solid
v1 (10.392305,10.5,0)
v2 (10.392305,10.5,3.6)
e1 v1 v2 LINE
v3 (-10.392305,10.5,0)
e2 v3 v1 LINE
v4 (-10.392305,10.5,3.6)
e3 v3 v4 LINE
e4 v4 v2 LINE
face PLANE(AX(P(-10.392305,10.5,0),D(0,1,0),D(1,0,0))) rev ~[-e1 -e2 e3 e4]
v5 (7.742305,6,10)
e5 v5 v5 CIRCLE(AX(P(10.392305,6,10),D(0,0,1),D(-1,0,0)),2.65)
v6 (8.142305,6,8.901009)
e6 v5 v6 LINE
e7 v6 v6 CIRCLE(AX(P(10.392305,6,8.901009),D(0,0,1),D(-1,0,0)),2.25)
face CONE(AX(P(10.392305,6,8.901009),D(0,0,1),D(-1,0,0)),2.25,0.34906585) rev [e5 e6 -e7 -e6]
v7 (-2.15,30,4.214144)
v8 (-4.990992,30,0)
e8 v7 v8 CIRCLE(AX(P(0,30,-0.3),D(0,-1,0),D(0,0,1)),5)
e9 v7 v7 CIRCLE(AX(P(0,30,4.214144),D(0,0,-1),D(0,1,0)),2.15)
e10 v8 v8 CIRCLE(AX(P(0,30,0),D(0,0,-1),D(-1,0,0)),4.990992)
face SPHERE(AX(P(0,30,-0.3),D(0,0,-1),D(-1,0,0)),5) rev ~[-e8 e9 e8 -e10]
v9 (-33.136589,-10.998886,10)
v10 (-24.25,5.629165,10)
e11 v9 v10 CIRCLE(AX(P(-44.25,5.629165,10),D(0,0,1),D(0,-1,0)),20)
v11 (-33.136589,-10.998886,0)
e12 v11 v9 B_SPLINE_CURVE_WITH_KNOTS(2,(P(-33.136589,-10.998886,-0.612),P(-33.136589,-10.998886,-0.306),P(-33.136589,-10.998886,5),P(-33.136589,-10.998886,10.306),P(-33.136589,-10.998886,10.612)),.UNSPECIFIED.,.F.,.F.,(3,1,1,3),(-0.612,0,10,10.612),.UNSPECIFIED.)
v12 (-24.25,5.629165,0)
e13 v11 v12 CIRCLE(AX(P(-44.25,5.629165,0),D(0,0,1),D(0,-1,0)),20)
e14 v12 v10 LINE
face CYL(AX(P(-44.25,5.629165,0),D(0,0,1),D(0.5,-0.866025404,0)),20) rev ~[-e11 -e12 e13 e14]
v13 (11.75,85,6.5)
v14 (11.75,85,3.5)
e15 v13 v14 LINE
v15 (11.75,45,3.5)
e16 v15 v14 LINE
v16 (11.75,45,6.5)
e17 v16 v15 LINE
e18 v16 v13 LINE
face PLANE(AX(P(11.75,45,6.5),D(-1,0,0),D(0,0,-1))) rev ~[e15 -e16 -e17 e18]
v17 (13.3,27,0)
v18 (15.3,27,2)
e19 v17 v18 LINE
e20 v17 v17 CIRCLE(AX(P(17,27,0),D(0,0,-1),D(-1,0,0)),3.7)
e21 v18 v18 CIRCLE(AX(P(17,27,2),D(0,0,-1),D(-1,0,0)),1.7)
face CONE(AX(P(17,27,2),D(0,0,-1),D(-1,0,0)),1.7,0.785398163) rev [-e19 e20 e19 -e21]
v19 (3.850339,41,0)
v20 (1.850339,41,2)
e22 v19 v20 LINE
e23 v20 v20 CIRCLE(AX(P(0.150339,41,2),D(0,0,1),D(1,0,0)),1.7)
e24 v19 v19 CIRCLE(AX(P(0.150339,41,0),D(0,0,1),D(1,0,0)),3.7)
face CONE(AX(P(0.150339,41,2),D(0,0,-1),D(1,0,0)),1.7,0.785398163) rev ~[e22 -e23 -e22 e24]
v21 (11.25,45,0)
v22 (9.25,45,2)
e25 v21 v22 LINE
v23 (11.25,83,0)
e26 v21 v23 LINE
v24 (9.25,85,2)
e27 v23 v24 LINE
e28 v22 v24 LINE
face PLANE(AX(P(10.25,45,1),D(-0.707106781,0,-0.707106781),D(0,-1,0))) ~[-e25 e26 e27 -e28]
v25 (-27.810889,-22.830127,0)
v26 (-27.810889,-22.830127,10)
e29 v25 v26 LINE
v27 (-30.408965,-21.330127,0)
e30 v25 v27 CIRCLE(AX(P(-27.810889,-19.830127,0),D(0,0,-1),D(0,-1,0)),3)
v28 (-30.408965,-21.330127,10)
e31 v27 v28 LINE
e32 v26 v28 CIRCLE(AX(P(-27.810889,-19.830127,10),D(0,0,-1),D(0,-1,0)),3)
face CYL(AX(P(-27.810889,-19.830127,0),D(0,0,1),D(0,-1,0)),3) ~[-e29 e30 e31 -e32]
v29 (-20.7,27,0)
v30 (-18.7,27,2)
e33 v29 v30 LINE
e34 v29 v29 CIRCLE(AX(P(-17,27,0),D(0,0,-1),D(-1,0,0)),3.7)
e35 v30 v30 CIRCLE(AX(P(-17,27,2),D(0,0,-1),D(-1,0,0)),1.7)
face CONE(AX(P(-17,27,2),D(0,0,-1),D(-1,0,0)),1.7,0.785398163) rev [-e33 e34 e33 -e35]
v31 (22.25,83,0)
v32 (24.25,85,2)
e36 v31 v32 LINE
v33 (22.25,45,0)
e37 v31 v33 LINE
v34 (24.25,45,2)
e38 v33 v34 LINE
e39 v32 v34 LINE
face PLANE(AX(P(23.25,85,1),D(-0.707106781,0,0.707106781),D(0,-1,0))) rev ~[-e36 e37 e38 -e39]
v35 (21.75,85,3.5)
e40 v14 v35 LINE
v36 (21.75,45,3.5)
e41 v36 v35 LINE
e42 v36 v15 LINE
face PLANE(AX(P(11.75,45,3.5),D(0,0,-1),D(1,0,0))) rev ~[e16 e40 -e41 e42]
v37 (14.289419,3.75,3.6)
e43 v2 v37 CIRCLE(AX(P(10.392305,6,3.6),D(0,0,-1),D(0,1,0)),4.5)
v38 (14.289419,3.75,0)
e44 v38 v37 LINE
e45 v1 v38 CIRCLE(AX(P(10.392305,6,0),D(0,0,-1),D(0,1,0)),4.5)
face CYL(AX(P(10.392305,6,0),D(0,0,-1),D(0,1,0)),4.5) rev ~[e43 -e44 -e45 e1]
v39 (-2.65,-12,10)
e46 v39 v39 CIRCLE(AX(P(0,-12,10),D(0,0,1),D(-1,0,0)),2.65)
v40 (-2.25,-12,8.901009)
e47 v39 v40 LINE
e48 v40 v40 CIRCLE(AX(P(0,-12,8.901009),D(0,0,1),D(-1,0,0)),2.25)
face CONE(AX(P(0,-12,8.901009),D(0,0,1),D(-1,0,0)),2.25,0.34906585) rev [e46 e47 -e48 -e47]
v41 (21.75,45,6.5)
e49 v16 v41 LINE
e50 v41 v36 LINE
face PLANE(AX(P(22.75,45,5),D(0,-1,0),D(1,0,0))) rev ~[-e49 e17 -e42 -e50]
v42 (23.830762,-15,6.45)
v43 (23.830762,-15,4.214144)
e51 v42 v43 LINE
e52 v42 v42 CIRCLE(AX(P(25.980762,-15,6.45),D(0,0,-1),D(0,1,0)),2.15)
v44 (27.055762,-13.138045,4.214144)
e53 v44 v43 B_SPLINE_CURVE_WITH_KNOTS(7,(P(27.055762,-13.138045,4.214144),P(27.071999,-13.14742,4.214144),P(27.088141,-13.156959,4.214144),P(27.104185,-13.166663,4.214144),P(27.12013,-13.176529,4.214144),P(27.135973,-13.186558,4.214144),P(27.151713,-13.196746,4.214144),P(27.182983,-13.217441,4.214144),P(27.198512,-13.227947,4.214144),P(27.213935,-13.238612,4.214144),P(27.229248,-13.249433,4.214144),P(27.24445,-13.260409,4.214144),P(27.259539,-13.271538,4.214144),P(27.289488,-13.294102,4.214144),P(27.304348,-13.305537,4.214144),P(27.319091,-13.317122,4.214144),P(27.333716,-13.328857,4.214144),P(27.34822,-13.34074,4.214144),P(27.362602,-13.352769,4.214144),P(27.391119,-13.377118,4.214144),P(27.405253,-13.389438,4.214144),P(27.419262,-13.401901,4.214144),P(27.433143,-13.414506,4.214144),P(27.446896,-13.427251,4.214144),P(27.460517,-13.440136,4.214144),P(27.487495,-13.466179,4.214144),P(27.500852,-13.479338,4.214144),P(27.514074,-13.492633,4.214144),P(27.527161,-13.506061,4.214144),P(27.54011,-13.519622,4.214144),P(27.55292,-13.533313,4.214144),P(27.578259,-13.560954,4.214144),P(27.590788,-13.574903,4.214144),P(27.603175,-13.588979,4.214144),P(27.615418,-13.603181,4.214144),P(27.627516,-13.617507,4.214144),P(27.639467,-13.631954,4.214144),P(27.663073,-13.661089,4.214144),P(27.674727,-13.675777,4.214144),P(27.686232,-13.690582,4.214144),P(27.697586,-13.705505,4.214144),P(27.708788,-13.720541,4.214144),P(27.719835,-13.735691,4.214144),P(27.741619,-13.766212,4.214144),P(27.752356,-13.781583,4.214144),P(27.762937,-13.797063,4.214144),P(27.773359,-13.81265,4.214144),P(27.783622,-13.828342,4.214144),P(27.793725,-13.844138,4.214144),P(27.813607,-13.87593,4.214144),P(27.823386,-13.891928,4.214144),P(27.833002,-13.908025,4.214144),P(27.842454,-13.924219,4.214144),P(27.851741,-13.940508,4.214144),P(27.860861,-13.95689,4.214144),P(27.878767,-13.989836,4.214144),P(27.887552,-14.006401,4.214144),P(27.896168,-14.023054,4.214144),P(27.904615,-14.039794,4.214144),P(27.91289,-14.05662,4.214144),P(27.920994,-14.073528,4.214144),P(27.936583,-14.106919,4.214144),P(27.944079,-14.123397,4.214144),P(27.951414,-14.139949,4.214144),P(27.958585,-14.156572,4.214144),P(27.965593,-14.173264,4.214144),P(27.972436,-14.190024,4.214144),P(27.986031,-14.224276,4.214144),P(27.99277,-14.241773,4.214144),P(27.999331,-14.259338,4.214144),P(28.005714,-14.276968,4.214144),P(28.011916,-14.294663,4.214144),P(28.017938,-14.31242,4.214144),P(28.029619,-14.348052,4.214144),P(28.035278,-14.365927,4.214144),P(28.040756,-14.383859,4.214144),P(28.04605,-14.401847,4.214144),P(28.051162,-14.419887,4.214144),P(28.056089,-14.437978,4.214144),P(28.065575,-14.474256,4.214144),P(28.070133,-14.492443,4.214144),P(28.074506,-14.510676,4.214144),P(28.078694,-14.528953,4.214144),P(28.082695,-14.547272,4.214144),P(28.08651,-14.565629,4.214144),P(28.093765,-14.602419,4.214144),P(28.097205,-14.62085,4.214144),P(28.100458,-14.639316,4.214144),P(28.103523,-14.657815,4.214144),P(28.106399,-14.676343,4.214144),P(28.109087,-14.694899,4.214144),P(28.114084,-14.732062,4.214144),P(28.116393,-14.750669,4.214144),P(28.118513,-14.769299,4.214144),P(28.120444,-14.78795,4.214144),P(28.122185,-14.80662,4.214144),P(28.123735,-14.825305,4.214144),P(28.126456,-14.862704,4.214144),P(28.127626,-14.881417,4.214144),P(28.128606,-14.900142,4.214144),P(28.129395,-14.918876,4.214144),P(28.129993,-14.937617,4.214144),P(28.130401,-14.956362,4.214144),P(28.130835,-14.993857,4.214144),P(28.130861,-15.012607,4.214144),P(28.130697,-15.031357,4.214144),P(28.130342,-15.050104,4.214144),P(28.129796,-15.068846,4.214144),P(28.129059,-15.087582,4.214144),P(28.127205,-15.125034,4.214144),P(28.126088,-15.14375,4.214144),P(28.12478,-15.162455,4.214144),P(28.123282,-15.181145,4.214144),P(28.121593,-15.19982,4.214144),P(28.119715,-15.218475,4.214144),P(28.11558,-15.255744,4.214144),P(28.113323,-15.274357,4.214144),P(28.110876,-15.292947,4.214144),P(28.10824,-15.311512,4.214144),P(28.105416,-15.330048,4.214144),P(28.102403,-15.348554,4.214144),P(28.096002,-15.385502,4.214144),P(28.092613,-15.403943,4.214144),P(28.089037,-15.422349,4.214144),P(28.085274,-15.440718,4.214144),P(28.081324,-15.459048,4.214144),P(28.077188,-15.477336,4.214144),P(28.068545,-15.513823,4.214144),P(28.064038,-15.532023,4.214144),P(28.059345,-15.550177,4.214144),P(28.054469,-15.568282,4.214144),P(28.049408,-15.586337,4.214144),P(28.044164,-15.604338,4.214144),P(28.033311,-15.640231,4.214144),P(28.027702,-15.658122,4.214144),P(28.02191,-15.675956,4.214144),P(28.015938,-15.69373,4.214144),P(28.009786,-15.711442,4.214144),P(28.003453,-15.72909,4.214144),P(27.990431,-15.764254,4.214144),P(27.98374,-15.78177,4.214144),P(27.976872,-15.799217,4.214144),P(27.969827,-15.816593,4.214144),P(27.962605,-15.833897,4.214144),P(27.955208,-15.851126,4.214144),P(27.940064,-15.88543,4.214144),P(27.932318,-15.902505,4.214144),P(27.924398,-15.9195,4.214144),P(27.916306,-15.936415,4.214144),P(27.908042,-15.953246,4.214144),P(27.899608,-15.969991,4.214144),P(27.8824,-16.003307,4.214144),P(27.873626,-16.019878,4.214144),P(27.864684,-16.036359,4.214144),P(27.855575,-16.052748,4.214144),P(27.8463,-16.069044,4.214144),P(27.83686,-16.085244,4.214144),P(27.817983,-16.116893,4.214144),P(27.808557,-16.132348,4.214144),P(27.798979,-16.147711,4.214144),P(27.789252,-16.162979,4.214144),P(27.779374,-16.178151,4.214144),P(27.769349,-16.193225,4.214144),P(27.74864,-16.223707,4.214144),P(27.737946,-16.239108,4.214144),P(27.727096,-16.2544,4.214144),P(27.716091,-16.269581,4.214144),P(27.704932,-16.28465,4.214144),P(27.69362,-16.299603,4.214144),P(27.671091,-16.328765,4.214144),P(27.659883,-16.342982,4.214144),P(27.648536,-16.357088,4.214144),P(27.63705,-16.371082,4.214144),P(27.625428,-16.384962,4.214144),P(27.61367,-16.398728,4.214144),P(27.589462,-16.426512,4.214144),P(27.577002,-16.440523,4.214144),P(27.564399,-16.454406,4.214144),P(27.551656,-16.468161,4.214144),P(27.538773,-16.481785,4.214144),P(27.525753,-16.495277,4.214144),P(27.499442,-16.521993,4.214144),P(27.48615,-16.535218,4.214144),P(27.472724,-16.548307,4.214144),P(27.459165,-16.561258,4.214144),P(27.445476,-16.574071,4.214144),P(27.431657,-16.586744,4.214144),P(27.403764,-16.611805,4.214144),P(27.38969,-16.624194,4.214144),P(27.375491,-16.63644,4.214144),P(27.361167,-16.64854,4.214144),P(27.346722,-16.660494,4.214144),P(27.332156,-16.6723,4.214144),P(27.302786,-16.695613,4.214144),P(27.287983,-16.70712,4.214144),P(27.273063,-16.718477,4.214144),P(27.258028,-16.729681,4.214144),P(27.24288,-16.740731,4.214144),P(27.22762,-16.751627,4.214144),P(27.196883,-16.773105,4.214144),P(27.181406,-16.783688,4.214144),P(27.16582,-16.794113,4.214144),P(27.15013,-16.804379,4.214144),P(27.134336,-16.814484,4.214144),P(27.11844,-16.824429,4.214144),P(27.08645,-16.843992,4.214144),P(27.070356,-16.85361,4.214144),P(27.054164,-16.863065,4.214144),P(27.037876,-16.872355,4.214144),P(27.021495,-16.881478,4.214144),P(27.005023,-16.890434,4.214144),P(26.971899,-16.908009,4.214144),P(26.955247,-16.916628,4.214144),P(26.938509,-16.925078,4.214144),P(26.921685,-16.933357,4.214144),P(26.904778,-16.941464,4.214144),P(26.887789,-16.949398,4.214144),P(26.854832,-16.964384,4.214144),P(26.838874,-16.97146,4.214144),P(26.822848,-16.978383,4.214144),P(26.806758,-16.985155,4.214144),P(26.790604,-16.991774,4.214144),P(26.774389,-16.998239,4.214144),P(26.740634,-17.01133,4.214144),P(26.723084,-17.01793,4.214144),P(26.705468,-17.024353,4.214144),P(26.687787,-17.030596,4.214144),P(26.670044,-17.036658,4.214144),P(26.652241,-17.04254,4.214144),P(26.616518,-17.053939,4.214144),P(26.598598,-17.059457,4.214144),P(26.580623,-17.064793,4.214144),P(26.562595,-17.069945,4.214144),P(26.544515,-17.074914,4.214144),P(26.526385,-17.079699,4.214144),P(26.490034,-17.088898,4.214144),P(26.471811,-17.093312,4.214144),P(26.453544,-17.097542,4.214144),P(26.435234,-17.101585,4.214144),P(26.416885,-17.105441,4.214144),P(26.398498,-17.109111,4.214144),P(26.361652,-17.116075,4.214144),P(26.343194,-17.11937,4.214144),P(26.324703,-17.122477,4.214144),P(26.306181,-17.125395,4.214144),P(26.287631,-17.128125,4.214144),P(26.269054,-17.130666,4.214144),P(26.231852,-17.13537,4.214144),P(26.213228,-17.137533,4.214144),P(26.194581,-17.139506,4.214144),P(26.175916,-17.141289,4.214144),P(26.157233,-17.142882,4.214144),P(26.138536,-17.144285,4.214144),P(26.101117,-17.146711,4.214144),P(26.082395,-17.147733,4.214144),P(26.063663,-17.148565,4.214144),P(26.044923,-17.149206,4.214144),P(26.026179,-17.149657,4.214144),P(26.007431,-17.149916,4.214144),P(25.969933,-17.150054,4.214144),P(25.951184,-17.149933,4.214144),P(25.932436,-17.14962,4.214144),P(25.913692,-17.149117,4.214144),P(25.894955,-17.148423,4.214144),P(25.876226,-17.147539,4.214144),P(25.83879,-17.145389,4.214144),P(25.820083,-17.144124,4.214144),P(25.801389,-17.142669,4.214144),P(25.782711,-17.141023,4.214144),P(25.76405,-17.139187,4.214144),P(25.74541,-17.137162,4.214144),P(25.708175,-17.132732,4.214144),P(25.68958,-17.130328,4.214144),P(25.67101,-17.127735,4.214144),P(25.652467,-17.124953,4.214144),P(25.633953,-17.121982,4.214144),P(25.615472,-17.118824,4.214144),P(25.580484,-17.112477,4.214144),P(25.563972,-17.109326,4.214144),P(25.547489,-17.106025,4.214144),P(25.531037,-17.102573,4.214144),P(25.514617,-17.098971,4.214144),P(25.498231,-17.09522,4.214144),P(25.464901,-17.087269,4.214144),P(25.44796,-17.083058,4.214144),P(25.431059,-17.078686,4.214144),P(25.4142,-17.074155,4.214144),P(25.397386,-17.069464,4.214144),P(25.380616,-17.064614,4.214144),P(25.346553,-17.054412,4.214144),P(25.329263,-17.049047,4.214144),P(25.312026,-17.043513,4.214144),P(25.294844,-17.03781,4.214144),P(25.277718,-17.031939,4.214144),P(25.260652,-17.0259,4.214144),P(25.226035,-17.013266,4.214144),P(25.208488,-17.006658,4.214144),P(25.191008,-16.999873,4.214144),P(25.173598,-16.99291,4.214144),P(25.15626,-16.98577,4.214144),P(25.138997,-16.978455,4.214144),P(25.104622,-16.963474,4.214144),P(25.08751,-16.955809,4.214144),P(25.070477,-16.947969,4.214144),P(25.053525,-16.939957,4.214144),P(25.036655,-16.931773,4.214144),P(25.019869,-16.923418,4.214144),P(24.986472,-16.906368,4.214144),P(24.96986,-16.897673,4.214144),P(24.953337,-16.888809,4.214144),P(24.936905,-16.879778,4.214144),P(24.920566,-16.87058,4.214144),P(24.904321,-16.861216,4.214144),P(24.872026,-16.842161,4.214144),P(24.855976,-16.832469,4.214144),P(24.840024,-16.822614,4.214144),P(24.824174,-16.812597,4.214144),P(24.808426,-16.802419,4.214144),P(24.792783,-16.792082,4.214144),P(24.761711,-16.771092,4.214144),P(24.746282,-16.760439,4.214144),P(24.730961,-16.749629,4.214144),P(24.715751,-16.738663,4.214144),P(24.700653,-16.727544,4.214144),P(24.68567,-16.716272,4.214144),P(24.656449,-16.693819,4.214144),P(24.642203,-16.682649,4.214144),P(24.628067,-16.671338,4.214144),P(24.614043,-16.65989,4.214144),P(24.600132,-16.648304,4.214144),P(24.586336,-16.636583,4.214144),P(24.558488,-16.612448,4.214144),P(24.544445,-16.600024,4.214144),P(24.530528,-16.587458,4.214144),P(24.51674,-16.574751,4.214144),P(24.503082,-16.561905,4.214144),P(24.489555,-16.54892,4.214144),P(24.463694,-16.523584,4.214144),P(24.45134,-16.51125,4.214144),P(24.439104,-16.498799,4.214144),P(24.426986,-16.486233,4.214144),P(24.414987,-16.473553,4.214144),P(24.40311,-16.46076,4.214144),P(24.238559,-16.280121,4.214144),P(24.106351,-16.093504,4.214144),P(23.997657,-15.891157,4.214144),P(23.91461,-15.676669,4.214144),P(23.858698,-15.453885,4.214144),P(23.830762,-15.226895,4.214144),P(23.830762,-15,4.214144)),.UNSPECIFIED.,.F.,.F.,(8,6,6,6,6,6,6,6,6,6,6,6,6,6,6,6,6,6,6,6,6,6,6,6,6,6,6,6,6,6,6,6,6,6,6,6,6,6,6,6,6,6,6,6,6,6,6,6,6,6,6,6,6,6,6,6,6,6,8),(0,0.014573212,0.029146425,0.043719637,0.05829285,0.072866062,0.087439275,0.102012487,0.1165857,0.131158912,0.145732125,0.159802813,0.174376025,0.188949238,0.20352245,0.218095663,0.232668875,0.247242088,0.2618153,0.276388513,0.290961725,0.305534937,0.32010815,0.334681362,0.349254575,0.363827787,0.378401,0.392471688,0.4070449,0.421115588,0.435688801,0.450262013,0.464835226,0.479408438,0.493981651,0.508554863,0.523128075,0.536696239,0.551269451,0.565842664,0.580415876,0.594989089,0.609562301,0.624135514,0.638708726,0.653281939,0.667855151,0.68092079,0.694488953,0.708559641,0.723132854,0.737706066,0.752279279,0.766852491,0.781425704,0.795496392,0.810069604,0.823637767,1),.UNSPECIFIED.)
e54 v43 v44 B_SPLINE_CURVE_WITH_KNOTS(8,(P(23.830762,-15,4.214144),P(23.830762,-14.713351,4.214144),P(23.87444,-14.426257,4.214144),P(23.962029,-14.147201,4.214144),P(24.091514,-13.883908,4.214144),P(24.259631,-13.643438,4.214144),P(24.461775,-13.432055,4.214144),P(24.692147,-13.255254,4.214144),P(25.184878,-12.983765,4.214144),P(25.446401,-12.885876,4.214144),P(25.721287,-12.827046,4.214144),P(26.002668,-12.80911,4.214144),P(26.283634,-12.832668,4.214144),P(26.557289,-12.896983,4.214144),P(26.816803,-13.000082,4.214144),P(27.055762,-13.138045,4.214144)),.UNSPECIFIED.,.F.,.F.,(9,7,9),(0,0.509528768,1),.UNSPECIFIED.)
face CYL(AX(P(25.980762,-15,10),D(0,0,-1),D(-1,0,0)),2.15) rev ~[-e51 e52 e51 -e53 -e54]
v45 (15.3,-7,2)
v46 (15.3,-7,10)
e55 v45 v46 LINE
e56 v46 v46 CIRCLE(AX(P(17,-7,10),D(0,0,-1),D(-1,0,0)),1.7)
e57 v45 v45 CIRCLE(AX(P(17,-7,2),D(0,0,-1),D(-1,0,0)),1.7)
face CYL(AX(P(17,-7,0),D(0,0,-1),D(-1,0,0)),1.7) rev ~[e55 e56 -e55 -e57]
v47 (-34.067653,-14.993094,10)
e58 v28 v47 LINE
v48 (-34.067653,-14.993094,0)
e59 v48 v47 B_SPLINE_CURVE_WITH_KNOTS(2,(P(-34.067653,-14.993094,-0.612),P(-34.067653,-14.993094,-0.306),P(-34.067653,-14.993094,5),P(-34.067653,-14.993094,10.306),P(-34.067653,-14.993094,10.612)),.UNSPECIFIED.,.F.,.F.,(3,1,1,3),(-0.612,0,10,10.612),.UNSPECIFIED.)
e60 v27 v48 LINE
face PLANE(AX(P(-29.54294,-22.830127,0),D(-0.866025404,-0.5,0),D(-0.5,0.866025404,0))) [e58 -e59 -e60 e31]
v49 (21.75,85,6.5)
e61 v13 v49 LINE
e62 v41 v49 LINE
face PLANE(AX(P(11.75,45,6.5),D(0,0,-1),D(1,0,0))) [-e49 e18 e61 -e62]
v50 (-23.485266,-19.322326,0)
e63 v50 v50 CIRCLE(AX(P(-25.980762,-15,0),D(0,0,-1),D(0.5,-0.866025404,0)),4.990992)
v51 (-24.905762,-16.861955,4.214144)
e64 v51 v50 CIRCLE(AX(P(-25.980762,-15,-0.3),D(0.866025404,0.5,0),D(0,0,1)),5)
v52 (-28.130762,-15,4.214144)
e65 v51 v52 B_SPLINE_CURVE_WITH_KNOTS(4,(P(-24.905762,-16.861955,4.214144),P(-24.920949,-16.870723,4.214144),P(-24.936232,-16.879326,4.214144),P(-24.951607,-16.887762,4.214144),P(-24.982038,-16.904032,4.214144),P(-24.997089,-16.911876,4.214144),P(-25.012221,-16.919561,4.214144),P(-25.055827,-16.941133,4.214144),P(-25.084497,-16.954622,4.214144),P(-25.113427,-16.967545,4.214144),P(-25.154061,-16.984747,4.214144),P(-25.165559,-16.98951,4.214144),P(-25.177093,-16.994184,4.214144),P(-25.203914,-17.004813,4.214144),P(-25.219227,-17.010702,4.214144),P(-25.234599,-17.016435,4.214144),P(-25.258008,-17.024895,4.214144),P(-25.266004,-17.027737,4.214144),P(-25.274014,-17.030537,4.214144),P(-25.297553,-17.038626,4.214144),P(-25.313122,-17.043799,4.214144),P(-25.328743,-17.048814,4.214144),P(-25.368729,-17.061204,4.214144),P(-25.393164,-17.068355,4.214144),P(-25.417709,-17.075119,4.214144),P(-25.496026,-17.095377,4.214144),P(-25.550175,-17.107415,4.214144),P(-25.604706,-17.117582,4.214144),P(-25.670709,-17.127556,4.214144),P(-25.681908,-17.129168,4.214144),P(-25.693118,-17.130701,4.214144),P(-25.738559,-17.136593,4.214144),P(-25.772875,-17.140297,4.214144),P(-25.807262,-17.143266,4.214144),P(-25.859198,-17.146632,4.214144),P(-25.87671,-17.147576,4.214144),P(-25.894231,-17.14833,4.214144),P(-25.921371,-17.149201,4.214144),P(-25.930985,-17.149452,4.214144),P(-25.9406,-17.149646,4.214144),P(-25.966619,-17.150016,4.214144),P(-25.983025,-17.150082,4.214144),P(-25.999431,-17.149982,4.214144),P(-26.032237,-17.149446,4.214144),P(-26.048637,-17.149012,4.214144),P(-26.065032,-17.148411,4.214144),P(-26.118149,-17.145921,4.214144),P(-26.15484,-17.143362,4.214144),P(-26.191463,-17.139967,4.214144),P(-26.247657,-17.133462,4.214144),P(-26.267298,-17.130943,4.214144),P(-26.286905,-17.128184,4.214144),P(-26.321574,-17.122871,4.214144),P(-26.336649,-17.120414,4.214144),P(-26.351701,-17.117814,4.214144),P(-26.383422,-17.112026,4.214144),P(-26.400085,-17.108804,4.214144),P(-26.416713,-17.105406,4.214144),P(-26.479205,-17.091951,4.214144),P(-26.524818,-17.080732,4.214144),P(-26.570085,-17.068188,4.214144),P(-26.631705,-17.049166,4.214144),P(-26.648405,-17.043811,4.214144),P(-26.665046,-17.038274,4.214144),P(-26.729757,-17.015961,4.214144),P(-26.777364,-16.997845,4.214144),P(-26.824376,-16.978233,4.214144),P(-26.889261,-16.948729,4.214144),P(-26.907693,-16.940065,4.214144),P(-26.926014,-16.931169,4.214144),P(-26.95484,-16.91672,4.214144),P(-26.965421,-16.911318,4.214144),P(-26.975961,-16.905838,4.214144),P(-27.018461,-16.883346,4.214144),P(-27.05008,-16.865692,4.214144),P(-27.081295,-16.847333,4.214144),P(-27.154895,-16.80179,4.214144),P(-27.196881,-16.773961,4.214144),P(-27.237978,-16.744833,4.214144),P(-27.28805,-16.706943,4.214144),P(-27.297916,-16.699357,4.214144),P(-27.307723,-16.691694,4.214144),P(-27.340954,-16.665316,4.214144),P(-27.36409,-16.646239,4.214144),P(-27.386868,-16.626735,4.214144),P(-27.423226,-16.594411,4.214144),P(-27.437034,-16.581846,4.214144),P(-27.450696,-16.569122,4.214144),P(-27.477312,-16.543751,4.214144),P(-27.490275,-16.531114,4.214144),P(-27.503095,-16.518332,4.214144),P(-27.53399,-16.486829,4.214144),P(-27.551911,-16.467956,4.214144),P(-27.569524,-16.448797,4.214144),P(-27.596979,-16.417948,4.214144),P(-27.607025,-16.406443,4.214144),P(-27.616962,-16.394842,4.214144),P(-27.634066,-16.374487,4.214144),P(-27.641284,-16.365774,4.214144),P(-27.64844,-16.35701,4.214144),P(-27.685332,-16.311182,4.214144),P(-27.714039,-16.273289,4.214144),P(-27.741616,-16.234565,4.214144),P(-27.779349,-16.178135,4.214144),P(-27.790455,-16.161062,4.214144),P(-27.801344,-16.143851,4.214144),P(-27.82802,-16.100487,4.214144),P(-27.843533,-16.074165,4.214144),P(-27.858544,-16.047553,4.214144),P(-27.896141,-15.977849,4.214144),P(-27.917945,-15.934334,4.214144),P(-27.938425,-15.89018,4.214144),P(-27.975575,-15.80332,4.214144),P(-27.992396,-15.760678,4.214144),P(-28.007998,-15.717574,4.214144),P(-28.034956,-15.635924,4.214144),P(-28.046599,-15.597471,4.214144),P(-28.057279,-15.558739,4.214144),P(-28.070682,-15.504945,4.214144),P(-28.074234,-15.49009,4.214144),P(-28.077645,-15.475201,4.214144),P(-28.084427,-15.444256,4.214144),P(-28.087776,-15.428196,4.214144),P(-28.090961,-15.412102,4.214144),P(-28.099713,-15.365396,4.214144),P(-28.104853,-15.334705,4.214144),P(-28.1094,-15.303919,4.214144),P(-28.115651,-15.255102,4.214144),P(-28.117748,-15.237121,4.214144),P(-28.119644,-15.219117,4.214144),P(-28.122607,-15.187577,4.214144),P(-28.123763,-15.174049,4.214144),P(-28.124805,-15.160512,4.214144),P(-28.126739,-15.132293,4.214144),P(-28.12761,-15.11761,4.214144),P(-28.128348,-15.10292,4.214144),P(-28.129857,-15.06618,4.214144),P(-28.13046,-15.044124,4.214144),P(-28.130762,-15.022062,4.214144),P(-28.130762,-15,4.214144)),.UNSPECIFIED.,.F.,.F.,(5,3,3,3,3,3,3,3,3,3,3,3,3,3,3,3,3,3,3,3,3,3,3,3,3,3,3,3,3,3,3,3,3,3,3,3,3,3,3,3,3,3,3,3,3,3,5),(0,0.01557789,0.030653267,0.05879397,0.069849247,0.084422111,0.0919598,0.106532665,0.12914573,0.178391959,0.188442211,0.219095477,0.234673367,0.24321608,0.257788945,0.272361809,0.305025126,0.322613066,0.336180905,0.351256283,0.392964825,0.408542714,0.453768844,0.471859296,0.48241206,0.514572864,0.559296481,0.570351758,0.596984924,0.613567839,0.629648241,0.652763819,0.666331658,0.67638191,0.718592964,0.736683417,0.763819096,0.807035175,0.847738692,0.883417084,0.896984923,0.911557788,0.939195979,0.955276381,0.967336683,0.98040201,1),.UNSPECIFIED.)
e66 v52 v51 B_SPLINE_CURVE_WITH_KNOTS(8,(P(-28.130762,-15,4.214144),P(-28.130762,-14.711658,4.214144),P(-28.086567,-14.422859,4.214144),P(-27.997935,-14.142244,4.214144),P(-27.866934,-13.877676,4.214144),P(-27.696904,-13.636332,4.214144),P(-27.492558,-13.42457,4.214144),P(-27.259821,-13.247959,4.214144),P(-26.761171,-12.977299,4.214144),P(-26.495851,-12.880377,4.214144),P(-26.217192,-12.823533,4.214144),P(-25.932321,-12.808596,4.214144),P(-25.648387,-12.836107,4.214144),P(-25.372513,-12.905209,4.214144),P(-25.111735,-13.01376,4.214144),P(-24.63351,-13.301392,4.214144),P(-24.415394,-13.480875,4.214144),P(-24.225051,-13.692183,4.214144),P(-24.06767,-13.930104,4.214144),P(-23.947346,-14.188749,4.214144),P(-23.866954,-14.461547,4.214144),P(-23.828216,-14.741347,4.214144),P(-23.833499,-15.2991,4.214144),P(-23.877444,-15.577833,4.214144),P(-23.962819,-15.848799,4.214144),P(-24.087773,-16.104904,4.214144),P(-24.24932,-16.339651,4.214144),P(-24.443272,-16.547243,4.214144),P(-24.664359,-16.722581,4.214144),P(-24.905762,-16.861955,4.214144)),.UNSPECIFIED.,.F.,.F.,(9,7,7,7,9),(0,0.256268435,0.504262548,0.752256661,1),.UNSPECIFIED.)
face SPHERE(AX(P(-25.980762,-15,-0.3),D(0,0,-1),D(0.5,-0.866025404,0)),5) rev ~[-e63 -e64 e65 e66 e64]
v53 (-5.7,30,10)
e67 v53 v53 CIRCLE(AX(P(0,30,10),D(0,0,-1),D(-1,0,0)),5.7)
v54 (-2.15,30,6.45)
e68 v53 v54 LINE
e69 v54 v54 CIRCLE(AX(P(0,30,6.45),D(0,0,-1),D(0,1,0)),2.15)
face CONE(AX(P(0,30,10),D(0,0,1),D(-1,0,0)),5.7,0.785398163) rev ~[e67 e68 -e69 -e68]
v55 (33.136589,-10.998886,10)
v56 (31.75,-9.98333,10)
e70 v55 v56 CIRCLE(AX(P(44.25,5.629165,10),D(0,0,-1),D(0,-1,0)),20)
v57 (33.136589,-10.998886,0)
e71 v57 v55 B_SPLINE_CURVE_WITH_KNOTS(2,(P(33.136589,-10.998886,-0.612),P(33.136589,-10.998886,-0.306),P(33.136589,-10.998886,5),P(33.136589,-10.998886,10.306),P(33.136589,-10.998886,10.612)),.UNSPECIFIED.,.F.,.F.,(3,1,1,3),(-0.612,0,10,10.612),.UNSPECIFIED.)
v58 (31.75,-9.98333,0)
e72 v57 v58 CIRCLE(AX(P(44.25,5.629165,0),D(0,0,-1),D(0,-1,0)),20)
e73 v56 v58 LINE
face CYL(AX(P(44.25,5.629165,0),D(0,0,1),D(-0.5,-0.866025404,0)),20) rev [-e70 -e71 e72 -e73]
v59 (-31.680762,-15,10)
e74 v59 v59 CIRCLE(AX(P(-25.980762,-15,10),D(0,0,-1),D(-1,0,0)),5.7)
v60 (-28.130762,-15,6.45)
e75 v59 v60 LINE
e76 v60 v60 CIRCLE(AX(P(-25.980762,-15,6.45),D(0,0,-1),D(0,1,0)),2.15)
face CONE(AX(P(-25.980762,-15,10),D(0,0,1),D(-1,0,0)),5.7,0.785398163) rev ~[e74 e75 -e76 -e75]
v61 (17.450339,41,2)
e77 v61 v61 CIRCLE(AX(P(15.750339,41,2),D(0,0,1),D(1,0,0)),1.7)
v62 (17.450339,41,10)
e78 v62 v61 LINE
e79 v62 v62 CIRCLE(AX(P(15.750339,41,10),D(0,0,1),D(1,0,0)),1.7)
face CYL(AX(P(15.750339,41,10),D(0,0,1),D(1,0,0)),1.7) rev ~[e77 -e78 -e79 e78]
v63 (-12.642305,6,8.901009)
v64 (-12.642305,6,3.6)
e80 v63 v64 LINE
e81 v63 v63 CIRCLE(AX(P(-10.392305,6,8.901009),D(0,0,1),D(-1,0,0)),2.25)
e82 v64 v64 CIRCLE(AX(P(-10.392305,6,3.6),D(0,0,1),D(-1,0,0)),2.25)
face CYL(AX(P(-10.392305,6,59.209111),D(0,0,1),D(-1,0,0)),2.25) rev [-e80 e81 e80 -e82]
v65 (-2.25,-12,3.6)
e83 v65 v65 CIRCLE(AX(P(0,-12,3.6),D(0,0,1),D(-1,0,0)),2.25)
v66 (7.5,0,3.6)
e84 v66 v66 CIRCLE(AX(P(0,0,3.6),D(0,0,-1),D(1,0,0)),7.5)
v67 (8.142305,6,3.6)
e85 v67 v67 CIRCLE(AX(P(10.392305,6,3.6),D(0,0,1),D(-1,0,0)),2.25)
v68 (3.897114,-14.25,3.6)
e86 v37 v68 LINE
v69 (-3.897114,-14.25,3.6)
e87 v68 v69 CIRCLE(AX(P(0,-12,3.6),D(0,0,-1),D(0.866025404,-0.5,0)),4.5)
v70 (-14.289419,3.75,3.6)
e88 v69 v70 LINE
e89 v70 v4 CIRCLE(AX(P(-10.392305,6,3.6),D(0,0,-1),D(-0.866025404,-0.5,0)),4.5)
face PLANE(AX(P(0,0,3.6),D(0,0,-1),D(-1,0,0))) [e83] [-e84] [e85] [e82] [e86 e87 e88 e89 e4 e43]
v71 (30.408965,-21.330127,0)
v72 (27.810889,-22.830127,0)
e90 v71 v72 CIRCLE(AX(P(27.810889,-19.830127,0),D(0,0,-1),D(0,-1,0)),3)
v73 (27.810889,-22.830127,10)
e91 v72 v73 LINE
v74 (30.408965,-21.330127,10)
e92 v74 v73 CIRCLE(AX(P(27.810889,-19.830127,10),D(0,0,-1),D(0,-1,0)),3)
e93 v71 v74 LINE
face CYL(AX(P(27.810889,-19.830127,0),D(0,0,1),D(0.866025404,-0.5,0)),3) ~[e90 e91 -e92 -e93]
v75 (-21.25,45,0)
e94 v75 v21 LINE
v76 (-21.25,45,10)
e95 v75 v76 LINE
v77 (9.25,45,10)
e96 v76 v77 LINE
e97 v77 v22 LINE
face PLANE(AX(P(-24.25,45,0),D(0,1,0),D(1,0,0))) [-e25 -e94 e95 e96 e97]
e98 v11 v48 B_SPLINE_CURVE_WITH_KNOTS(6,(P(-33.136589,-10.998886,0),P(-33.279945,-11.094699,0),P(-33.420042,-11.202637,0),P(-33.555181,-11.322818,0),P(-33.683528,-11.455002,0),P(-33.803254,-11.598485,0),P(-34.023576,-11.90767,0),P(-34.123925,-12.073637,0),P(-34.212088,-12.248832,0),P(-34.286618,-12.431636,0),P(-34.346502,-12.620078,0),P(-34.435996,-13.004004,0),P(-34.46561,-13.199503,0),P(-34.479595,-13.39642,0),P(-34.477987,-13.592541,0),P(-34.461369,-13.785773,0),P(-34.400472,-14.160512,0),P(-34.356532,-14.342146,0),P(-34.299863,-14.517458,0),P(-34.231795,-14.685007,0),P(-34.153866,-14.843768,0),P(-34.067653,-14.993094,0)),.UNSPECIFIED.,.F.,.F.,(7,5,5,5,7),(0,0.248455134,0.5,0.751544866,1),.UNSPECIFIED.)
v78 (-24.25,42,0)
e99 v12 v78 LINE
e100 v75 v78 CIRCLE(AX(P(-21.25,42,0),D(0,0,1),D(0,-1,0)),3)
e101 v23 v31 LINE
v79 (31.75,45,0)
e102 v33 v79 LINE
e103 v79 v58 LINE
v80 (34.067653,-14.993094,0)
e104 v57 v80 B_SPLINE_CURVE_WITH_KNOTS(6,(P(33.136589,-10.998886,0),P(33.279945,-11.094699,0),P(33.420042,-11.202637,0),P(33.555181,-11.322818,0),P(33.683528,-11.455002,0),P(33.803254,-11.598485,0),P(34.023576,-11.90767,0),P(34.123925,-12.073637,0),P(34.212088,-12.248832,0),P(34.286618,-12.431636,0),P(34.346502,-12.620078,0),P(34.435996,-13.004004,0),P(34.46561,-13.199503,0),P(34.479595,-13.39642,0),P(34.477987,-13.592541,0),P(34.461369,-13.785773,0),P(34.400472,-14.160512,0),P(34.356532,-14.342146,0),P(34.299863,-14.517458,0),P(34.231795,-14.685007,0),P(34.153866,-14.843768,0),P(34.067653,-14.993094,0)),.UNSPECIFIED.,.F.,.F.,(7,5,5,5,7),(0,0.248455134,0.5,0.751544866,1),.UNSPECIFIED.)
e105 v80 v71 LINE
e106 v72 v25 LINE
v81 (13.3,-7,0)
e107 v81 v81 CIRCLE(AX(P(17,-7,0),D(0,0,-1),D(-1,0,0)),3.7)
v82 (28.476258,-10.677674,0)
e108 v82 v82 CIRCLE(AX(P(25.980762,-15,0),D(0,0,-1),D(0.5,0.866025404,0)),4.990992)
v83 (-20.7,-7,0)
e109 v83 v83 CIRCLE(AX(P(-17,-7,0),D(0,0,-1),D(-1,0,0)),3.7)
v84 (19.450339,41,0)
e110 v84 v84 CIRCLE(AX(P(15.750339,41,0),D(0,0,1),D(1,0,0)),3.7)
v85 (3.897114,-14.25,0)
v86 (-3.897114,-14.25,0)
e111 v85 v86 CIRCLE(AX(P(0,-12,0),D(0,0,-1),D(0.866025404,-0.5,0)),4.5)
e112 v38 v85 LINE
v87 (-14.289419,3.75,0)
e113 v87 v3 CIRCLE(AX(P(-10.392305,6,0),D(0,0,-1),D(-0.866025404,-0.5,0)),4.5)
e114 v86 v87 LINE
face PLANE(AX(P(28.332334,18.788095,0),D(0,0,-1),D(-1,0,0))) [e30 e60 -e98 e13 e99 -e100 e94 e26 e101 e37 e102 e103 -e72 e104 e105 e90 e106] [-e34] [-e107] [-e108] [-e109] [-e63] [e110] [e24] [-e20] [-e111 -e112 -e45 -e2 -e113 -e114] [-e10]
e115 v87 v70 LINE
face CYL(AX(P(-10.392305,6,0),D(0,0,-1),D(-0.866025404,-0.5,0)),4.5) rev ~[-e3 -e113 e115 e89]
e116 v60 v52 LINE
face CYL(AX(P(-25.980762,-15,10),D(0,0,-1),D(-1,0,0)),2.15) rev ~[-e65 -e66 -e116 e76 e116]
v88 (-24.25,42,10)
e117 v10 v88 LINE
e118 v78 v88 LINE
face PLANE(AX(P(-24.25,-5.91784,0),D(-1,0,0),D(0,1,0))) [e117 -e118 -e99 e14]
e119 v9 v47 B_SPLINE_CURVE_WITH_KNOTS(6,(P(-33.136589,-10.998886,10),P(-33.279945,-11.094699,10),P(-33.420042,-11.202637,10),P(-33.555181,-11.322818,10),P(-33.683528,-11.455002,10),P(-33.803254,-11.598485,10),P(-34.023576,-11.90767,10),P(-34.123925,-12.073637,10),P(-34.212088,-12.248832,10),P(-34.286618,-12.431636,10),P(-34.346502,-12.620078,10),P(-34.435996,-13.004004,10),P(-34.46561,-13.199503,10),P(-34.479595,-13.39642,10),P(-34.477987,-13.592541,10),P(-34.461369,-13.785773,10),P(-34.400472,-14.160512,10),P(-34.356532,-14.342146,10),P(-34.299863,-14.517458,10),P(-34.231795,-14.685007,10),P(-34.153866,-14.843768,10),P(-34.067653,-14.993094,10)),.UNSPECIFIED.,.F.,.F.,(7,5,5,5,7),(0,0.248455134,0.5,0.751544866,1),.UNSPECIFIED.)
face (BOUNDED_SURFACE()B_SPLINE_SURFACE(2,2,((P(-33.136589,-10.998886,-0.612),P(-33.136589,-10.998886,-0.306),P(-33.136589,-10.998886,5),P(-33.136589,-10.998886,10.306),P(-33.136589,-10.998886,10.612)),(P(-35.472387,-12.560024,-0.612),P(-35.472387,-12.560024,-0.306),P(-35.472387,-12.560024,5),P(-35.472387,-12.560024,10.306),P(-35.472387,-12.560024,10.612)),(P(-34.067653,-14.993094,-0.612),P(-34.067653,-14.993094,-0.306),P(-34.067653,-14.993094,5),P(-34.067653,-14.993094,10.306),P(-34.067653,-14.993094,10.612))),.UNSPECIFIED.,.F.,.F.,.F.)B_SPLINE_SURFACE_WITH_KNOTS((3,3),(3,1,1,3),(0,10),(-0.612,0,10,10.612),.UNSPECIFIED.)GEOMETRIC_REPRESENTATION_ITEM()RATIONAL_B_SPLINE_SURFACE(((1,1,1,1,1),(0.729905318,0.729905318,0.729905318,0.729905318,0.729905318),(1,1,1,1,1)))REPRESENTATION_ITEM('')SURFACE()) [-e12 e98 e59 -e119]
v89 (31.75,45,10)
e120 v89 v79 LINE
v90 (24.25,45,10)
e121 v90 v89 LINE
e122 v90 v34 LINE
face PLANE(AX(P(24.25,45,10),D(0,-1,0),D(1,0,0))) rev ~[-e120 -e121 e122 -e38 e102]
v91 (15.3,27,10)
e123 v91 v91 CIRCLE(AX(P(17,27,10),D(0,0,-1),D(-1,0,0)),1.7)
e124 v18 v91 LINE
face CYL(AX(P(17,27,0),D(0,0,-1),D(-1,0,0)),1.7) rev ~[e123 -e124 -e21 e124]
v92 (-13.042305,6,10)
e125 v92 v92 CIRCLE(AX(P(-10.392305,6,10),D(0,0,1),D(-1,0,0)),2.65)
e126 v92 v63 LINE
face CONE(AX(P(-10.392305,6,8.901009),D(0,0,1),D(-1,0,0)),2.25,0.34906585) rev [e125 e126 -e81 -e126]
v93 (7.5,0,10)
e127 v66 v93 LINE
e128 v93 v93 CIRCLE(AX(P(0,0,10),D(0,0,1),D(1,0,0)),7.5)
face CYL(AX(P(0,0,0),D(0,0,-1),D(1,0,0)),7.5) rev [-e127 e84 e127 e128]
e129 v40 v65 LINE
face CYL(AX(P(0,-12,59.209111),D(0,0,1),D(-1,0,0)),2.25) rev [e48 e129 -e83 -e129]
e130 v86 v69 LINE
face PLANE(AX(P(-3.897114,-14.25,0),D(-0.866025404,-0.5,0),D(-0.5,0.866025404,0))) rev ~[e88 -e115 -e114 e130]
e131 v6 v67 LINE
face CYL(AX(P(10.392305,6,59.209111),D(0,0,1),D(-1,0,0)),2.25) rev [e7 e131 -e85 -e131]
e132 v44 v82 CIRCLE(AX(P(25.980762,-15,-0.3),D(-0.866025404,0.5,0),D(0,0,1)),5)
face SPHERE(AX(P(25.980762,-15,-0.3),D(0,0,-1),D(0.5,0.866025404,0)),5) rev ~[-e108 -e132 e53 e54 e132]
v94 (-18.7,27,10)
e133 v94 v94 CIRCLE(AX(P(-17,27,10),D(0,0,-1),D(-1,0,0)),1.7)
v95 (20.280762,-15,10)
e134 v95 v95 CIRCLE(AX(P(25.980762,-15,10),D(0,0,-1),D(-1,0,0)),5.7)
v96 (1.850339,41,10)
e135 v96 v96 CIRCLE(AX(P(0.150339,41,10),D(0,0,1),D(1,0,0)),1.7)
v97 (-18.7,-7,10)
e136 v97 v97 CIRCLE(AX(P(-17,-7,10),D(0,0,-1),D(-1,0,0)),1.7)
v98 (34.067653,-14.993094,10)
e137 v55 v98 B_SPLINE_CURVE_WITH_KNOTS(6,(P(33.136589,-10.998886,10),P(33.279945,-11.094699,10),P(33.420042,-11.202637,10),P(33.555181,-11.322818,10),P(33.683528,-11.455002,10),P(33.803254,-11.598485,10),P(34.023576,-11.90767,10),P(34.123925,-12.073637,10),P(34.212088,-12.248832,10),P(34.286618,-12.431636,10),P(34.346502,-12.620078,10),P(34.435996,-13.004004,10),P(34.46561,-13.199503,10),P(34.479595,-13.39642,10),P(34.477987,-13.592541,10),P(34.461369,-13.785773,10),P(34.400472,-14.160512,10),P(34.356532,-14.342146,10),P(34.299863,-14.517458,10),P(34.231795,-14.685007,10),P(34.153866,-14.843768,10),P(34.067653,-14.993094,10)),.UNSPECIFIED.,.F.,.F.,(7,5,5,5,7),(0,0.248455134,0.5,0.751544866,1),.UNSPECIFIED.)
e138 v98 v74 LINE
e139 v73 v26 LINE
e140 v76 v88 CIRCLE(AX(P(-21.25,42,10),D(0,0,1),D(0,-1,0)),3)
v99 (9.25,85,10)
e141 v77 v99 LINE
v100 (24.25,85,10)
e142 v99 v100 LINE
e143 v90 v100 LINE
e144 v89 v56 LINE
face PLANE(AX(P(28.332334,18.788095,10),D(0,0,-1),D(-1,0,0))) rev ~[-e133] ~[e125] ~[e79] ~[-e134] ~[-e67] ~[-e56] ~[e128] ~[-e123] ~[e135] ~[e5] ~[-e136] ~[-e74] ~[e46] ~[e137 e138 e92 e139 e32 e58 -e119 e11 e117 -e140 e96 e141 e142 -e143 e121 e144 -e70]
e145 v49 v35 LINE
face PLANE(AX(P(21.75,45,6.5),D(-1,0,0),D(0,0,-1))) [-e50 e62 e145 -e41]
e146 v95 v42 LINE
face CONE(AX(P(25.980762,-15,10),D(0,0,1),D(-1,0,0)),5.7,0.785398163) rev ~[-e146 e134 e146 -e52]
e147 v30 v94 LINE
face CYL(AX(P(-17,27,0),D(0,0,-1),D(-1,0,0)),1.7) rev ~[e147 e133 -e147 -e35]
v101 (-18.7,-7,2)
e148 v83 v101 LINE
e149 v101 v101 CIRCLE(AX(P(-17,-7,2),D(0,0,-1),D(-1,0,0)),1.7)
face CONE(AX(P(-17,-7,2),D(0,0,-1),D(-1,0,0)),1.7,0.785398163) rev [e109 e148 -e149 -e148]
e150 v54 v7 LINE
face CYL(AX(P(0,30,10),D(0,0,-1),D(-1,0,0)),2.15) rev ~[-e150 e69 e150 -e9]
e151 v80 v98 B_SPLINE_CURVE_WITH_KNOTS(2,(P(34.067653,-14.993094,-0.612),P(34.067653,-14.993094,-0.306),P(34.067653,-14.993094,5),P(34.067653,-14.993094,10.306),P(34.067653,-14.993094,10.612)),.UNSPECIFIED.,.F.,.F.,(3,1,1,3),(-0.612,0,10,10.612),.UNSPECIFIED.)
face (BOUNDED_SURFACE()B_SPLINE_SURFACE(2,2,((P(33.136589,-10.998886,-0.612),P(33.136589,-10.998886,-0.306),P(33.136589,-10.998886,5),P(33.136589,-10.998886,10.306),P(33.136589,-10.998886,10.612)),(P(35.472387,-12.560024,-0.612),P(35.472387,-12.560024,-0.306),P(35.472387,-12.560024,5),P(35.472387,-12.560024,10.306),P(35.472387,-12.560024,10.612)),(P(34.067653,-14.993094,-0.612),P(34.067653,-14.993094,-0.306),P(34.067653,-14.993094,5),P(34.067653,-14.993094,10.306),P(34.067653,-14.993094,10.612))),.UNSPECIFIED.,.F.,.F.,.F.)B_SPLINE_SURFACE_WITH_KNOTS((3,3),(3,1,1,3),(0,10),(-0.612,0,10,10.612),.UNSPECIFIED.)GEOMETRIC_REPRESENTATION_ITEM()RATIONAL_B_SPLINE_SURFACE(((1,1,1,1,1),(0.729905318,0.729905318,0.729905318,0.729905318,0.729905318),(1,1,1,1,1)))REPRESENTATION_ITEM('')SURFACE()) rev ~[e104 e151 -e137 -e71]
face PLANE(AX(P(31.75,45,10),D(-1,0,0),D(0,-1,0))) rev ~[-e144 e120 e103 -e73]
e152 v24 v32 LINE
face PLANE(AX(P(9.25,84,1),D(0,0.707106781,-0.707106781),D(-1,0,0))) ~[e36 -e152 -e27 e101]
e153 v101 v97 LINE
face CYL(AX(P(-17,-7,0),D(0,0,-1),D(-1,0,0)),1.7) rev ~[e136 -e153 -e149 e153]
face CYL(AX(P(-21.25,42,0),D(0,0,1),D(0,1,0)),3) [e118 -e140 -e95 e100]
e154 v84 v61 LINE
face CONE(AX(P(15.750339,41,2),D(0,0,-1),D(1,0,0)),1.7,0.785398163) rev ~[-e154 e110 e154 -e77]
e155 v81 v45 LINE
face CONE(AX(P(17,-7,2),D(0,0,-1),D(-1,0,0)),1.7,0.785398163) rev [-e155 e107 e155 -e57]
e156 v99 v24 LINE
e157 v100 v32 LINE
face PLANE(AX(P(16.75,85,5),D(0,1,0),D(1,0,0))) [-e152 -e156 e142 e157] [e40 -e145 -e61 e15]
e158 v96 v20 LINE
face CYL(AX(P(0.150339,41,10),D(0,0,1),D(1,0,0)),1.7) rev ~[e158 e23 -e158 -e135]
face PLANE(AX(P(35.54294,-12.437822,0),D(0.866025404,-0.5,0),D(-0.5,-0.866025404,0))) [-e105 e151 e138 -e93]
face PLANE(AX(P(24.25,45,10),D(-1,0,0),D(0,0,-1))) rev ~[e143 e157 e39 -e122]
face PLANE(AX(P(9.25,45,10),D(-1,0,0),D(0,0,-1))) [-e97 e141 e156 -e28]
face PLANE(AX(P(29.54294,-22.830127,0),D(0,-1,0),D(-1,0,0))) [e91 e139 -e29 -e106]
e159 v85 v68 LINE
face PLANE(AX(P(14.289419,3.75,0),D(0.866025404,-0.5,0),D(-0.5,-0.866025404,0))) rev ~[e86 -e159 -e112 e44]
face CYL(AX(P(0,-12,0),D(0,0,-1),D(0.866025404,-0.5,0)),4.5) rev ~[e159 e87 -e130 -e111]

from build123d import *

# Parameters (mm, degrees)
SKETCH2_R                                       = 7.5
BOSS_EXTRUDE1_DEPTH                             = 10
CSK_FOR_M4_FLAT_HEAD_MACHINE_SCREW1_D           = 4.3
CSK_FOR_M4_FLAT_HEAD_MACHINE_SCREW1_CSINK_D     = 11.4
CSK_FOR_M4_FLAT_HEAD_MACHINE_SCREW1_CSINK_ANGLE = 90
FILLET1_R                                       = 20
V_GROOVE_CUTOUT_DEPTH                           = 3.6
STANDARD_TAPERED_INSERT_CUTOUT_DEPTH            = 59.209110795
STANDARD_TAPERED_INSERT_CUTOUT_DEPTH_BACK       = 59.209110795
SKETCH13_R                                      = 2.25
TAPER_FOR_INSERTS_SIZE                          = 0.4
TAPER_FOR_INSERTS_SIZE2                         = 1.098990968
MOVE_FACE1_BY                                   = 0.5
MOVE_FACE1_2_BY                                 = 0.5
MOVE_FACE1_3_BY                                 = 0.5
MOVE_FACE1_4_BY                                 = 0.5
MOVE_FACE1_5_BY                                 = 0.5
MOVE_FACE1_6_BY                                 = 0.5
CIRPATTERN2_COUNT                               = 3
FILLET2_R                                       = 3
SKETCH47_R                                      = 1.7
CUT_EXTRUDE1_DEPTH                              = 58.559983963
SKETCH49_W                                      = 15
SKETCH49_H                                      = 10
SKETCH49_W_2                                    = 10
SKETCH49_H_2                                    = 3
BOSS_EXTRUDE2_DEPTH                             = 40
CHAMFER1_SIZE                                   = 2
BOSS_EXTRUDE3_REACH                             = 78.74
SKETCH51_W                                      = 3
SKETCH51_H                                      = 10
BOSS_EXTRUDE4_DEPTH                             = 10
SKETCH48_R                                      = 1.7
CUT_EXTRUDE2_DEPTH                              = 93.266742447
CHAMFER4_SIZE                                   = 2
CHAMFER3_SIZE                                   = 2


with BuildPart() as part:
    # Sketch2 → Boss-Extrude1 (new body)
    with BuildSketch(Plane.XY):
        Polygon((-24.25, 45), (24.25, 45), (24.25, -5.917840259), (35.54293994, -12.437822174), (29.54293994, -22.830127019), (-29.54293994, -22.830127019), (-35.54293994, -12.437822174), (-24.25, -5.917840259), align=None)
        Circle(SKETCH2_R, mode=Mode.SUBTRACT)
    extrude(amount=BOSS_EXTRUDE1_DEPTH)

    # CSK for M4 Flat Head Machine Screw1 (through all)
    with Locations(Plane.XY.offset(10)):
        with Locations((-25.980762114, -15), (0, 30), (25.980762114, -15)):
            CounterSinkHole(CSK_FOR_M4_FLAT_HEAD_MACHINE_SCREW1_D / 2, CSK_FOR_M4_FLAT_HEAD_MACHINE_SCREW1_CSINK_D / 2, counter_sink_angle=CSK_FOR_M4_FLAT_HEAD_MACHINE_SCREW1_CSINK_ANGLE)

    # Fillet1
    fillet1_edges = [part.edges().sort_by_distance(p)[0] for p in [
        (24.25, -5.917840259, 5),
        (-24.25, -5.917840259, 5),
    ]]
    fillet(fillet1_edges, radius=FILLET1_R)

    # Sketch44 → v-groove cutout (cut)
    with BuildSketch(Plane(origin=(0, 0, 0), x_dir=(-1, 0, 0), z_dir=(0, 0, -1))):
        with BuildLine():
            Line((10.392304845, 10), (-10.392304845, 10))
            ThreePointArc((-10.392304845, 10), (-13.856406461, 8), (-13.856406461, 4))
            Line((-13.856406461, 4), (-3.464101615, -14))
            ThreePointArc((-3.464101615, -14), (0, -16), (3.464101615, -14))
            Line((3.464101615, -14), (13.856406461, 4))
            ThreePointArc((13.856406461, 4), (13.856406461, 8), (10.392304845, 10))
        make_face()
    extrude(amount=-V_GROOVE_CUTOUT_DEPTH, mode=Mode.SUBTRACT)

    # Sketch13 → standard tapered insert cutout (cut, two sides: drawn at the far end of the back side and taken through both)
    with BuildSketch(Plane(origin=(0, 0, 0), x_dir=(-1, 0, 0), z_dir=(0, 0, -1)).offset(-STANDARD_TAPERED_INSERT_CUTOUT_DEPTH_BACK)):
        with Locations((-10.392304845, 6)):
            Circle(SKETCH13_R)
        with Locations((10.392304845, 6)):
            Circle(SKETCH13_R)
        with Locations((0, -12)):
            Circle(SKETCH13_R)
    extrude(amount=STANDARD_TAPERED_INSERT_CUTOUT_DEPTH + STANDARD_TAPERED_INSERT_CUTOUT_DEPTH_BACK, mode=Mode.SUBTRACT)

    # taper for inserts
    taper_for_inserts_edges = [part.edges().sort_by_distance(p)[0] for p in [
        (12.642304845, 6, 10),
        (-8.142304845, 6, 10),
        (2.25, -12, 10),
    ]]
    taper_for_inserts_side = [part.faces().sort_by_distance(p)[0] for p in [
        (0, 10.687623267, 10),
    ]]
    chamfer(taper_for_inserts_edges, length=TAPER_FOR_INSERTS_SIZE, length2=TAPER_FOR_INSERTS_SIZE2, reference=taper_for_inserts_side[0])

    # Move Face1: a face moved inward by 0.5
    extrude(part.faces().sort_by_distance((-8.660254038, -5, 1.8))[0], amount=MOVE_FACE1_BY, dir=(-0.866025404, -0.5, 0), mode=Mode.SUBTRACT)

    # Move Face1 2: a curved face moved inward by 0.5
    add(Solid.thicken(part.faces().sort_by_distance((0, -16, 1.8))[0], -MOVE_FACE1_2_BY), mode=Mode.SUBTRACT)

    # Move Face1 3: a face moved inward by 0.5
    extrude(part.faces().sort_by_distance((8.660254038, -5, 1.8))[0], amount=MOVE_FACE1_3_BY, dir=(0.866025404, -0.5, 0), mode=Mode.SUBTRACT)

    # Move Face1 4: a curved face moved inward by 0.5
    add(Solid.thicken(part.faces().sort_by_distance((13.856406461, 8, 1.8))[0], -MOVE_FACE1_4_BY), mode=Mode.SUBTRACT)

    # Move Face1 5: a curved face moved inward by 0.5
    add(Solid.thicken(part.faces().sort_by_distance((-13.856406461, 8, 1.8))[0], -MOVE_FACE1_5_BY), mode=Mode.SUBTRACT)

    # Move Face1 6: a face moved inward by 0.5
    extrude(part.faces().sort_by_distance((0, 10, 1.8))[0], amount=MOVE_FACE1_6_BY, dir=(0, 1, 0), mode=Mode.SUBTRACT)

    # Sketch46 → tool ball cutout (revolve, cut)
    with BuildSketch(Plane(origin=(0, 30, 0), x_dir=(1, 0, 0), z_dir=(0, 1, 0))):
        with BuildLine():
            Line((0, 5.3), (0, -4.7))
            ThreePointArc((0, -4.7), (-5, 0.3), (0, 5.3))
        make_face()
    tool_ball_cutout = revolve(axis=Axis((0, 30, 0), (0, 0, -1)), mode=Mode.SUBTRACT)

    # CirPattern2: tool ball cutout ×3 about axis
    cirpattern2_axis = Axis((0, 0, 0), (0, 0, 1))
    for i in range(1, CIRPATTERN2_COUNT):
        add(tool_ball_cutout.rotate(cirpattern2_axis, i * 360 / CIRPATTERN2_COUNT), mode=Mode.SUBTRACT)

    # Fillet2
    fillet2_edges = [part.edges().sort_by_distance(p)[0] for p in [
        (24.25, 45, 5),
        (-24.25, 45, 5),
        (-29.54293994, -22.830127019, 5),
        (-35.54293994, -12.437822174, 5),
        (29.54293994, -22.830127019, 5),
        (35.54293994, -12.437822174, 5),
    ]]
    fillet(fillet2_edges, radius=FILLET2_R)

    # Sketch47 → Cut-Extrude1 (cut, through all)
    with BuildSketch(Plane(origin=(0, 0, 0), x_dir=(-1, 0, 0), z_dir=(0, 0, -1))):
        with Locations((-17, 27)):
            Circle(SKETCH47_R)
        with Locations((17, 27)):
            Circle(SKETCH47_R)
        with Locations((17, -7)):
            Circle(SKETCH47_R)
        with Locations((-17, -7)):
            Circle(SKETCH47_R)
    extrude(amount=-CUT_EXTRUDE1_DEPTH, mode=Mode.SUBTRACT)

    # Sketch49 → Boss-Extrude2 (add)
    with BuildSketch(Plane(origin=(0, 45, 0), x_dir=(1, 0, 0), z_dir=(0, 1, 0))):
        with Locations((16.75, -5)):
            Rectangle(SKETCH49_W, SKETCH49_H)
        with Locations((16.75, -5)):
            Rectangle(SKETCH49_W_2, SKETCH49_H_2, mode=Mode.SUBTRACT)
    extrude(amount=BOSS_EXTRUDE2_DEPTH)

    # Chamfer1
    chamfer1_edges = [part.edges().sort_by_distance(p)[0] for p in [
        (18.7, -7, 0),
        (-15.3, -7, 0),
        (-15.3, 27, 0),
        (18.7, 27, 0),
    ]]
    chamfer(chamfer1_edges, length=CHAMFER1_SIZE)

    # Sketch51 → Boss-Extrude3 (add, up to next)
    with BuildSketch(Plane.XZ.offset(-45), mode=Mode.PRIVATE) as boss_extrude3_sk1:
        with Locations((22.75, 5)):
            Rectangle(SKETCH51_W, SKETCH51_H)
    boss_extrude3_tool1 = extrude(boss_extrude3_sk1.sketch, amount=BOSS_EXTRUDE3_REACH, mode=Mode.PRIVATE) - part.part
    add(boss_extrude3_tool1.solids().sort_by_distance((22.75, 45, 5))[0])

    # Sketch52 → Boss-Extrude4 (add)
    with BuildSketch(Plane.XY.offset(10)):
        with BuildLine():
            Line((24.25, 45), (31.75, 45))
            Line((31.75, 45), (31.75, -9.983329871))
            ThreePointArc((31.75, -9.983329871), (26.222243623, -3.031088913), (24.25, 5.629165125))
            Line((24.25, 5.629165125), (24.25, 45))
        make_face()
    extrude(amount=-BOSS_EXTRUDE4_DEPTH)

    # Sketch48 → Cut-Extrude2 (cut, through all)
    with BuildSketch(Plane.XY.offset(10)):
        with Locations((0.150338606, 41)):
            Circle(SKETCH48_R)
        with Locations((15.750338606, 41)):
            Circle(SKETCH48_R)
    extrude(amount=-CUT_EXTRUDE2_DEPTH, mode=Mode.SUBTRACT)

    # Chamfer4
    chamfer4_edges = [part.edges().sort_by_distance(p)[0] for p in [
        (-1.549661394, 41, 0),
        (14.050338606, 41, 0),
    ]]
    chamfer(chamfer4_edges, length=CHAMFER4_SIZE)

    # Chamfer3
    chamfer3_edges = [part.edges().sort_by_distance(p)[0] for p in [
        (16.75, 85, 0),
        (9.25, 65, 0),
        (24.25, 65, 0),
    ]]
    chamfer(chamfer3_edges, length=CHAMFER3_SIZE)


solid = part.part
